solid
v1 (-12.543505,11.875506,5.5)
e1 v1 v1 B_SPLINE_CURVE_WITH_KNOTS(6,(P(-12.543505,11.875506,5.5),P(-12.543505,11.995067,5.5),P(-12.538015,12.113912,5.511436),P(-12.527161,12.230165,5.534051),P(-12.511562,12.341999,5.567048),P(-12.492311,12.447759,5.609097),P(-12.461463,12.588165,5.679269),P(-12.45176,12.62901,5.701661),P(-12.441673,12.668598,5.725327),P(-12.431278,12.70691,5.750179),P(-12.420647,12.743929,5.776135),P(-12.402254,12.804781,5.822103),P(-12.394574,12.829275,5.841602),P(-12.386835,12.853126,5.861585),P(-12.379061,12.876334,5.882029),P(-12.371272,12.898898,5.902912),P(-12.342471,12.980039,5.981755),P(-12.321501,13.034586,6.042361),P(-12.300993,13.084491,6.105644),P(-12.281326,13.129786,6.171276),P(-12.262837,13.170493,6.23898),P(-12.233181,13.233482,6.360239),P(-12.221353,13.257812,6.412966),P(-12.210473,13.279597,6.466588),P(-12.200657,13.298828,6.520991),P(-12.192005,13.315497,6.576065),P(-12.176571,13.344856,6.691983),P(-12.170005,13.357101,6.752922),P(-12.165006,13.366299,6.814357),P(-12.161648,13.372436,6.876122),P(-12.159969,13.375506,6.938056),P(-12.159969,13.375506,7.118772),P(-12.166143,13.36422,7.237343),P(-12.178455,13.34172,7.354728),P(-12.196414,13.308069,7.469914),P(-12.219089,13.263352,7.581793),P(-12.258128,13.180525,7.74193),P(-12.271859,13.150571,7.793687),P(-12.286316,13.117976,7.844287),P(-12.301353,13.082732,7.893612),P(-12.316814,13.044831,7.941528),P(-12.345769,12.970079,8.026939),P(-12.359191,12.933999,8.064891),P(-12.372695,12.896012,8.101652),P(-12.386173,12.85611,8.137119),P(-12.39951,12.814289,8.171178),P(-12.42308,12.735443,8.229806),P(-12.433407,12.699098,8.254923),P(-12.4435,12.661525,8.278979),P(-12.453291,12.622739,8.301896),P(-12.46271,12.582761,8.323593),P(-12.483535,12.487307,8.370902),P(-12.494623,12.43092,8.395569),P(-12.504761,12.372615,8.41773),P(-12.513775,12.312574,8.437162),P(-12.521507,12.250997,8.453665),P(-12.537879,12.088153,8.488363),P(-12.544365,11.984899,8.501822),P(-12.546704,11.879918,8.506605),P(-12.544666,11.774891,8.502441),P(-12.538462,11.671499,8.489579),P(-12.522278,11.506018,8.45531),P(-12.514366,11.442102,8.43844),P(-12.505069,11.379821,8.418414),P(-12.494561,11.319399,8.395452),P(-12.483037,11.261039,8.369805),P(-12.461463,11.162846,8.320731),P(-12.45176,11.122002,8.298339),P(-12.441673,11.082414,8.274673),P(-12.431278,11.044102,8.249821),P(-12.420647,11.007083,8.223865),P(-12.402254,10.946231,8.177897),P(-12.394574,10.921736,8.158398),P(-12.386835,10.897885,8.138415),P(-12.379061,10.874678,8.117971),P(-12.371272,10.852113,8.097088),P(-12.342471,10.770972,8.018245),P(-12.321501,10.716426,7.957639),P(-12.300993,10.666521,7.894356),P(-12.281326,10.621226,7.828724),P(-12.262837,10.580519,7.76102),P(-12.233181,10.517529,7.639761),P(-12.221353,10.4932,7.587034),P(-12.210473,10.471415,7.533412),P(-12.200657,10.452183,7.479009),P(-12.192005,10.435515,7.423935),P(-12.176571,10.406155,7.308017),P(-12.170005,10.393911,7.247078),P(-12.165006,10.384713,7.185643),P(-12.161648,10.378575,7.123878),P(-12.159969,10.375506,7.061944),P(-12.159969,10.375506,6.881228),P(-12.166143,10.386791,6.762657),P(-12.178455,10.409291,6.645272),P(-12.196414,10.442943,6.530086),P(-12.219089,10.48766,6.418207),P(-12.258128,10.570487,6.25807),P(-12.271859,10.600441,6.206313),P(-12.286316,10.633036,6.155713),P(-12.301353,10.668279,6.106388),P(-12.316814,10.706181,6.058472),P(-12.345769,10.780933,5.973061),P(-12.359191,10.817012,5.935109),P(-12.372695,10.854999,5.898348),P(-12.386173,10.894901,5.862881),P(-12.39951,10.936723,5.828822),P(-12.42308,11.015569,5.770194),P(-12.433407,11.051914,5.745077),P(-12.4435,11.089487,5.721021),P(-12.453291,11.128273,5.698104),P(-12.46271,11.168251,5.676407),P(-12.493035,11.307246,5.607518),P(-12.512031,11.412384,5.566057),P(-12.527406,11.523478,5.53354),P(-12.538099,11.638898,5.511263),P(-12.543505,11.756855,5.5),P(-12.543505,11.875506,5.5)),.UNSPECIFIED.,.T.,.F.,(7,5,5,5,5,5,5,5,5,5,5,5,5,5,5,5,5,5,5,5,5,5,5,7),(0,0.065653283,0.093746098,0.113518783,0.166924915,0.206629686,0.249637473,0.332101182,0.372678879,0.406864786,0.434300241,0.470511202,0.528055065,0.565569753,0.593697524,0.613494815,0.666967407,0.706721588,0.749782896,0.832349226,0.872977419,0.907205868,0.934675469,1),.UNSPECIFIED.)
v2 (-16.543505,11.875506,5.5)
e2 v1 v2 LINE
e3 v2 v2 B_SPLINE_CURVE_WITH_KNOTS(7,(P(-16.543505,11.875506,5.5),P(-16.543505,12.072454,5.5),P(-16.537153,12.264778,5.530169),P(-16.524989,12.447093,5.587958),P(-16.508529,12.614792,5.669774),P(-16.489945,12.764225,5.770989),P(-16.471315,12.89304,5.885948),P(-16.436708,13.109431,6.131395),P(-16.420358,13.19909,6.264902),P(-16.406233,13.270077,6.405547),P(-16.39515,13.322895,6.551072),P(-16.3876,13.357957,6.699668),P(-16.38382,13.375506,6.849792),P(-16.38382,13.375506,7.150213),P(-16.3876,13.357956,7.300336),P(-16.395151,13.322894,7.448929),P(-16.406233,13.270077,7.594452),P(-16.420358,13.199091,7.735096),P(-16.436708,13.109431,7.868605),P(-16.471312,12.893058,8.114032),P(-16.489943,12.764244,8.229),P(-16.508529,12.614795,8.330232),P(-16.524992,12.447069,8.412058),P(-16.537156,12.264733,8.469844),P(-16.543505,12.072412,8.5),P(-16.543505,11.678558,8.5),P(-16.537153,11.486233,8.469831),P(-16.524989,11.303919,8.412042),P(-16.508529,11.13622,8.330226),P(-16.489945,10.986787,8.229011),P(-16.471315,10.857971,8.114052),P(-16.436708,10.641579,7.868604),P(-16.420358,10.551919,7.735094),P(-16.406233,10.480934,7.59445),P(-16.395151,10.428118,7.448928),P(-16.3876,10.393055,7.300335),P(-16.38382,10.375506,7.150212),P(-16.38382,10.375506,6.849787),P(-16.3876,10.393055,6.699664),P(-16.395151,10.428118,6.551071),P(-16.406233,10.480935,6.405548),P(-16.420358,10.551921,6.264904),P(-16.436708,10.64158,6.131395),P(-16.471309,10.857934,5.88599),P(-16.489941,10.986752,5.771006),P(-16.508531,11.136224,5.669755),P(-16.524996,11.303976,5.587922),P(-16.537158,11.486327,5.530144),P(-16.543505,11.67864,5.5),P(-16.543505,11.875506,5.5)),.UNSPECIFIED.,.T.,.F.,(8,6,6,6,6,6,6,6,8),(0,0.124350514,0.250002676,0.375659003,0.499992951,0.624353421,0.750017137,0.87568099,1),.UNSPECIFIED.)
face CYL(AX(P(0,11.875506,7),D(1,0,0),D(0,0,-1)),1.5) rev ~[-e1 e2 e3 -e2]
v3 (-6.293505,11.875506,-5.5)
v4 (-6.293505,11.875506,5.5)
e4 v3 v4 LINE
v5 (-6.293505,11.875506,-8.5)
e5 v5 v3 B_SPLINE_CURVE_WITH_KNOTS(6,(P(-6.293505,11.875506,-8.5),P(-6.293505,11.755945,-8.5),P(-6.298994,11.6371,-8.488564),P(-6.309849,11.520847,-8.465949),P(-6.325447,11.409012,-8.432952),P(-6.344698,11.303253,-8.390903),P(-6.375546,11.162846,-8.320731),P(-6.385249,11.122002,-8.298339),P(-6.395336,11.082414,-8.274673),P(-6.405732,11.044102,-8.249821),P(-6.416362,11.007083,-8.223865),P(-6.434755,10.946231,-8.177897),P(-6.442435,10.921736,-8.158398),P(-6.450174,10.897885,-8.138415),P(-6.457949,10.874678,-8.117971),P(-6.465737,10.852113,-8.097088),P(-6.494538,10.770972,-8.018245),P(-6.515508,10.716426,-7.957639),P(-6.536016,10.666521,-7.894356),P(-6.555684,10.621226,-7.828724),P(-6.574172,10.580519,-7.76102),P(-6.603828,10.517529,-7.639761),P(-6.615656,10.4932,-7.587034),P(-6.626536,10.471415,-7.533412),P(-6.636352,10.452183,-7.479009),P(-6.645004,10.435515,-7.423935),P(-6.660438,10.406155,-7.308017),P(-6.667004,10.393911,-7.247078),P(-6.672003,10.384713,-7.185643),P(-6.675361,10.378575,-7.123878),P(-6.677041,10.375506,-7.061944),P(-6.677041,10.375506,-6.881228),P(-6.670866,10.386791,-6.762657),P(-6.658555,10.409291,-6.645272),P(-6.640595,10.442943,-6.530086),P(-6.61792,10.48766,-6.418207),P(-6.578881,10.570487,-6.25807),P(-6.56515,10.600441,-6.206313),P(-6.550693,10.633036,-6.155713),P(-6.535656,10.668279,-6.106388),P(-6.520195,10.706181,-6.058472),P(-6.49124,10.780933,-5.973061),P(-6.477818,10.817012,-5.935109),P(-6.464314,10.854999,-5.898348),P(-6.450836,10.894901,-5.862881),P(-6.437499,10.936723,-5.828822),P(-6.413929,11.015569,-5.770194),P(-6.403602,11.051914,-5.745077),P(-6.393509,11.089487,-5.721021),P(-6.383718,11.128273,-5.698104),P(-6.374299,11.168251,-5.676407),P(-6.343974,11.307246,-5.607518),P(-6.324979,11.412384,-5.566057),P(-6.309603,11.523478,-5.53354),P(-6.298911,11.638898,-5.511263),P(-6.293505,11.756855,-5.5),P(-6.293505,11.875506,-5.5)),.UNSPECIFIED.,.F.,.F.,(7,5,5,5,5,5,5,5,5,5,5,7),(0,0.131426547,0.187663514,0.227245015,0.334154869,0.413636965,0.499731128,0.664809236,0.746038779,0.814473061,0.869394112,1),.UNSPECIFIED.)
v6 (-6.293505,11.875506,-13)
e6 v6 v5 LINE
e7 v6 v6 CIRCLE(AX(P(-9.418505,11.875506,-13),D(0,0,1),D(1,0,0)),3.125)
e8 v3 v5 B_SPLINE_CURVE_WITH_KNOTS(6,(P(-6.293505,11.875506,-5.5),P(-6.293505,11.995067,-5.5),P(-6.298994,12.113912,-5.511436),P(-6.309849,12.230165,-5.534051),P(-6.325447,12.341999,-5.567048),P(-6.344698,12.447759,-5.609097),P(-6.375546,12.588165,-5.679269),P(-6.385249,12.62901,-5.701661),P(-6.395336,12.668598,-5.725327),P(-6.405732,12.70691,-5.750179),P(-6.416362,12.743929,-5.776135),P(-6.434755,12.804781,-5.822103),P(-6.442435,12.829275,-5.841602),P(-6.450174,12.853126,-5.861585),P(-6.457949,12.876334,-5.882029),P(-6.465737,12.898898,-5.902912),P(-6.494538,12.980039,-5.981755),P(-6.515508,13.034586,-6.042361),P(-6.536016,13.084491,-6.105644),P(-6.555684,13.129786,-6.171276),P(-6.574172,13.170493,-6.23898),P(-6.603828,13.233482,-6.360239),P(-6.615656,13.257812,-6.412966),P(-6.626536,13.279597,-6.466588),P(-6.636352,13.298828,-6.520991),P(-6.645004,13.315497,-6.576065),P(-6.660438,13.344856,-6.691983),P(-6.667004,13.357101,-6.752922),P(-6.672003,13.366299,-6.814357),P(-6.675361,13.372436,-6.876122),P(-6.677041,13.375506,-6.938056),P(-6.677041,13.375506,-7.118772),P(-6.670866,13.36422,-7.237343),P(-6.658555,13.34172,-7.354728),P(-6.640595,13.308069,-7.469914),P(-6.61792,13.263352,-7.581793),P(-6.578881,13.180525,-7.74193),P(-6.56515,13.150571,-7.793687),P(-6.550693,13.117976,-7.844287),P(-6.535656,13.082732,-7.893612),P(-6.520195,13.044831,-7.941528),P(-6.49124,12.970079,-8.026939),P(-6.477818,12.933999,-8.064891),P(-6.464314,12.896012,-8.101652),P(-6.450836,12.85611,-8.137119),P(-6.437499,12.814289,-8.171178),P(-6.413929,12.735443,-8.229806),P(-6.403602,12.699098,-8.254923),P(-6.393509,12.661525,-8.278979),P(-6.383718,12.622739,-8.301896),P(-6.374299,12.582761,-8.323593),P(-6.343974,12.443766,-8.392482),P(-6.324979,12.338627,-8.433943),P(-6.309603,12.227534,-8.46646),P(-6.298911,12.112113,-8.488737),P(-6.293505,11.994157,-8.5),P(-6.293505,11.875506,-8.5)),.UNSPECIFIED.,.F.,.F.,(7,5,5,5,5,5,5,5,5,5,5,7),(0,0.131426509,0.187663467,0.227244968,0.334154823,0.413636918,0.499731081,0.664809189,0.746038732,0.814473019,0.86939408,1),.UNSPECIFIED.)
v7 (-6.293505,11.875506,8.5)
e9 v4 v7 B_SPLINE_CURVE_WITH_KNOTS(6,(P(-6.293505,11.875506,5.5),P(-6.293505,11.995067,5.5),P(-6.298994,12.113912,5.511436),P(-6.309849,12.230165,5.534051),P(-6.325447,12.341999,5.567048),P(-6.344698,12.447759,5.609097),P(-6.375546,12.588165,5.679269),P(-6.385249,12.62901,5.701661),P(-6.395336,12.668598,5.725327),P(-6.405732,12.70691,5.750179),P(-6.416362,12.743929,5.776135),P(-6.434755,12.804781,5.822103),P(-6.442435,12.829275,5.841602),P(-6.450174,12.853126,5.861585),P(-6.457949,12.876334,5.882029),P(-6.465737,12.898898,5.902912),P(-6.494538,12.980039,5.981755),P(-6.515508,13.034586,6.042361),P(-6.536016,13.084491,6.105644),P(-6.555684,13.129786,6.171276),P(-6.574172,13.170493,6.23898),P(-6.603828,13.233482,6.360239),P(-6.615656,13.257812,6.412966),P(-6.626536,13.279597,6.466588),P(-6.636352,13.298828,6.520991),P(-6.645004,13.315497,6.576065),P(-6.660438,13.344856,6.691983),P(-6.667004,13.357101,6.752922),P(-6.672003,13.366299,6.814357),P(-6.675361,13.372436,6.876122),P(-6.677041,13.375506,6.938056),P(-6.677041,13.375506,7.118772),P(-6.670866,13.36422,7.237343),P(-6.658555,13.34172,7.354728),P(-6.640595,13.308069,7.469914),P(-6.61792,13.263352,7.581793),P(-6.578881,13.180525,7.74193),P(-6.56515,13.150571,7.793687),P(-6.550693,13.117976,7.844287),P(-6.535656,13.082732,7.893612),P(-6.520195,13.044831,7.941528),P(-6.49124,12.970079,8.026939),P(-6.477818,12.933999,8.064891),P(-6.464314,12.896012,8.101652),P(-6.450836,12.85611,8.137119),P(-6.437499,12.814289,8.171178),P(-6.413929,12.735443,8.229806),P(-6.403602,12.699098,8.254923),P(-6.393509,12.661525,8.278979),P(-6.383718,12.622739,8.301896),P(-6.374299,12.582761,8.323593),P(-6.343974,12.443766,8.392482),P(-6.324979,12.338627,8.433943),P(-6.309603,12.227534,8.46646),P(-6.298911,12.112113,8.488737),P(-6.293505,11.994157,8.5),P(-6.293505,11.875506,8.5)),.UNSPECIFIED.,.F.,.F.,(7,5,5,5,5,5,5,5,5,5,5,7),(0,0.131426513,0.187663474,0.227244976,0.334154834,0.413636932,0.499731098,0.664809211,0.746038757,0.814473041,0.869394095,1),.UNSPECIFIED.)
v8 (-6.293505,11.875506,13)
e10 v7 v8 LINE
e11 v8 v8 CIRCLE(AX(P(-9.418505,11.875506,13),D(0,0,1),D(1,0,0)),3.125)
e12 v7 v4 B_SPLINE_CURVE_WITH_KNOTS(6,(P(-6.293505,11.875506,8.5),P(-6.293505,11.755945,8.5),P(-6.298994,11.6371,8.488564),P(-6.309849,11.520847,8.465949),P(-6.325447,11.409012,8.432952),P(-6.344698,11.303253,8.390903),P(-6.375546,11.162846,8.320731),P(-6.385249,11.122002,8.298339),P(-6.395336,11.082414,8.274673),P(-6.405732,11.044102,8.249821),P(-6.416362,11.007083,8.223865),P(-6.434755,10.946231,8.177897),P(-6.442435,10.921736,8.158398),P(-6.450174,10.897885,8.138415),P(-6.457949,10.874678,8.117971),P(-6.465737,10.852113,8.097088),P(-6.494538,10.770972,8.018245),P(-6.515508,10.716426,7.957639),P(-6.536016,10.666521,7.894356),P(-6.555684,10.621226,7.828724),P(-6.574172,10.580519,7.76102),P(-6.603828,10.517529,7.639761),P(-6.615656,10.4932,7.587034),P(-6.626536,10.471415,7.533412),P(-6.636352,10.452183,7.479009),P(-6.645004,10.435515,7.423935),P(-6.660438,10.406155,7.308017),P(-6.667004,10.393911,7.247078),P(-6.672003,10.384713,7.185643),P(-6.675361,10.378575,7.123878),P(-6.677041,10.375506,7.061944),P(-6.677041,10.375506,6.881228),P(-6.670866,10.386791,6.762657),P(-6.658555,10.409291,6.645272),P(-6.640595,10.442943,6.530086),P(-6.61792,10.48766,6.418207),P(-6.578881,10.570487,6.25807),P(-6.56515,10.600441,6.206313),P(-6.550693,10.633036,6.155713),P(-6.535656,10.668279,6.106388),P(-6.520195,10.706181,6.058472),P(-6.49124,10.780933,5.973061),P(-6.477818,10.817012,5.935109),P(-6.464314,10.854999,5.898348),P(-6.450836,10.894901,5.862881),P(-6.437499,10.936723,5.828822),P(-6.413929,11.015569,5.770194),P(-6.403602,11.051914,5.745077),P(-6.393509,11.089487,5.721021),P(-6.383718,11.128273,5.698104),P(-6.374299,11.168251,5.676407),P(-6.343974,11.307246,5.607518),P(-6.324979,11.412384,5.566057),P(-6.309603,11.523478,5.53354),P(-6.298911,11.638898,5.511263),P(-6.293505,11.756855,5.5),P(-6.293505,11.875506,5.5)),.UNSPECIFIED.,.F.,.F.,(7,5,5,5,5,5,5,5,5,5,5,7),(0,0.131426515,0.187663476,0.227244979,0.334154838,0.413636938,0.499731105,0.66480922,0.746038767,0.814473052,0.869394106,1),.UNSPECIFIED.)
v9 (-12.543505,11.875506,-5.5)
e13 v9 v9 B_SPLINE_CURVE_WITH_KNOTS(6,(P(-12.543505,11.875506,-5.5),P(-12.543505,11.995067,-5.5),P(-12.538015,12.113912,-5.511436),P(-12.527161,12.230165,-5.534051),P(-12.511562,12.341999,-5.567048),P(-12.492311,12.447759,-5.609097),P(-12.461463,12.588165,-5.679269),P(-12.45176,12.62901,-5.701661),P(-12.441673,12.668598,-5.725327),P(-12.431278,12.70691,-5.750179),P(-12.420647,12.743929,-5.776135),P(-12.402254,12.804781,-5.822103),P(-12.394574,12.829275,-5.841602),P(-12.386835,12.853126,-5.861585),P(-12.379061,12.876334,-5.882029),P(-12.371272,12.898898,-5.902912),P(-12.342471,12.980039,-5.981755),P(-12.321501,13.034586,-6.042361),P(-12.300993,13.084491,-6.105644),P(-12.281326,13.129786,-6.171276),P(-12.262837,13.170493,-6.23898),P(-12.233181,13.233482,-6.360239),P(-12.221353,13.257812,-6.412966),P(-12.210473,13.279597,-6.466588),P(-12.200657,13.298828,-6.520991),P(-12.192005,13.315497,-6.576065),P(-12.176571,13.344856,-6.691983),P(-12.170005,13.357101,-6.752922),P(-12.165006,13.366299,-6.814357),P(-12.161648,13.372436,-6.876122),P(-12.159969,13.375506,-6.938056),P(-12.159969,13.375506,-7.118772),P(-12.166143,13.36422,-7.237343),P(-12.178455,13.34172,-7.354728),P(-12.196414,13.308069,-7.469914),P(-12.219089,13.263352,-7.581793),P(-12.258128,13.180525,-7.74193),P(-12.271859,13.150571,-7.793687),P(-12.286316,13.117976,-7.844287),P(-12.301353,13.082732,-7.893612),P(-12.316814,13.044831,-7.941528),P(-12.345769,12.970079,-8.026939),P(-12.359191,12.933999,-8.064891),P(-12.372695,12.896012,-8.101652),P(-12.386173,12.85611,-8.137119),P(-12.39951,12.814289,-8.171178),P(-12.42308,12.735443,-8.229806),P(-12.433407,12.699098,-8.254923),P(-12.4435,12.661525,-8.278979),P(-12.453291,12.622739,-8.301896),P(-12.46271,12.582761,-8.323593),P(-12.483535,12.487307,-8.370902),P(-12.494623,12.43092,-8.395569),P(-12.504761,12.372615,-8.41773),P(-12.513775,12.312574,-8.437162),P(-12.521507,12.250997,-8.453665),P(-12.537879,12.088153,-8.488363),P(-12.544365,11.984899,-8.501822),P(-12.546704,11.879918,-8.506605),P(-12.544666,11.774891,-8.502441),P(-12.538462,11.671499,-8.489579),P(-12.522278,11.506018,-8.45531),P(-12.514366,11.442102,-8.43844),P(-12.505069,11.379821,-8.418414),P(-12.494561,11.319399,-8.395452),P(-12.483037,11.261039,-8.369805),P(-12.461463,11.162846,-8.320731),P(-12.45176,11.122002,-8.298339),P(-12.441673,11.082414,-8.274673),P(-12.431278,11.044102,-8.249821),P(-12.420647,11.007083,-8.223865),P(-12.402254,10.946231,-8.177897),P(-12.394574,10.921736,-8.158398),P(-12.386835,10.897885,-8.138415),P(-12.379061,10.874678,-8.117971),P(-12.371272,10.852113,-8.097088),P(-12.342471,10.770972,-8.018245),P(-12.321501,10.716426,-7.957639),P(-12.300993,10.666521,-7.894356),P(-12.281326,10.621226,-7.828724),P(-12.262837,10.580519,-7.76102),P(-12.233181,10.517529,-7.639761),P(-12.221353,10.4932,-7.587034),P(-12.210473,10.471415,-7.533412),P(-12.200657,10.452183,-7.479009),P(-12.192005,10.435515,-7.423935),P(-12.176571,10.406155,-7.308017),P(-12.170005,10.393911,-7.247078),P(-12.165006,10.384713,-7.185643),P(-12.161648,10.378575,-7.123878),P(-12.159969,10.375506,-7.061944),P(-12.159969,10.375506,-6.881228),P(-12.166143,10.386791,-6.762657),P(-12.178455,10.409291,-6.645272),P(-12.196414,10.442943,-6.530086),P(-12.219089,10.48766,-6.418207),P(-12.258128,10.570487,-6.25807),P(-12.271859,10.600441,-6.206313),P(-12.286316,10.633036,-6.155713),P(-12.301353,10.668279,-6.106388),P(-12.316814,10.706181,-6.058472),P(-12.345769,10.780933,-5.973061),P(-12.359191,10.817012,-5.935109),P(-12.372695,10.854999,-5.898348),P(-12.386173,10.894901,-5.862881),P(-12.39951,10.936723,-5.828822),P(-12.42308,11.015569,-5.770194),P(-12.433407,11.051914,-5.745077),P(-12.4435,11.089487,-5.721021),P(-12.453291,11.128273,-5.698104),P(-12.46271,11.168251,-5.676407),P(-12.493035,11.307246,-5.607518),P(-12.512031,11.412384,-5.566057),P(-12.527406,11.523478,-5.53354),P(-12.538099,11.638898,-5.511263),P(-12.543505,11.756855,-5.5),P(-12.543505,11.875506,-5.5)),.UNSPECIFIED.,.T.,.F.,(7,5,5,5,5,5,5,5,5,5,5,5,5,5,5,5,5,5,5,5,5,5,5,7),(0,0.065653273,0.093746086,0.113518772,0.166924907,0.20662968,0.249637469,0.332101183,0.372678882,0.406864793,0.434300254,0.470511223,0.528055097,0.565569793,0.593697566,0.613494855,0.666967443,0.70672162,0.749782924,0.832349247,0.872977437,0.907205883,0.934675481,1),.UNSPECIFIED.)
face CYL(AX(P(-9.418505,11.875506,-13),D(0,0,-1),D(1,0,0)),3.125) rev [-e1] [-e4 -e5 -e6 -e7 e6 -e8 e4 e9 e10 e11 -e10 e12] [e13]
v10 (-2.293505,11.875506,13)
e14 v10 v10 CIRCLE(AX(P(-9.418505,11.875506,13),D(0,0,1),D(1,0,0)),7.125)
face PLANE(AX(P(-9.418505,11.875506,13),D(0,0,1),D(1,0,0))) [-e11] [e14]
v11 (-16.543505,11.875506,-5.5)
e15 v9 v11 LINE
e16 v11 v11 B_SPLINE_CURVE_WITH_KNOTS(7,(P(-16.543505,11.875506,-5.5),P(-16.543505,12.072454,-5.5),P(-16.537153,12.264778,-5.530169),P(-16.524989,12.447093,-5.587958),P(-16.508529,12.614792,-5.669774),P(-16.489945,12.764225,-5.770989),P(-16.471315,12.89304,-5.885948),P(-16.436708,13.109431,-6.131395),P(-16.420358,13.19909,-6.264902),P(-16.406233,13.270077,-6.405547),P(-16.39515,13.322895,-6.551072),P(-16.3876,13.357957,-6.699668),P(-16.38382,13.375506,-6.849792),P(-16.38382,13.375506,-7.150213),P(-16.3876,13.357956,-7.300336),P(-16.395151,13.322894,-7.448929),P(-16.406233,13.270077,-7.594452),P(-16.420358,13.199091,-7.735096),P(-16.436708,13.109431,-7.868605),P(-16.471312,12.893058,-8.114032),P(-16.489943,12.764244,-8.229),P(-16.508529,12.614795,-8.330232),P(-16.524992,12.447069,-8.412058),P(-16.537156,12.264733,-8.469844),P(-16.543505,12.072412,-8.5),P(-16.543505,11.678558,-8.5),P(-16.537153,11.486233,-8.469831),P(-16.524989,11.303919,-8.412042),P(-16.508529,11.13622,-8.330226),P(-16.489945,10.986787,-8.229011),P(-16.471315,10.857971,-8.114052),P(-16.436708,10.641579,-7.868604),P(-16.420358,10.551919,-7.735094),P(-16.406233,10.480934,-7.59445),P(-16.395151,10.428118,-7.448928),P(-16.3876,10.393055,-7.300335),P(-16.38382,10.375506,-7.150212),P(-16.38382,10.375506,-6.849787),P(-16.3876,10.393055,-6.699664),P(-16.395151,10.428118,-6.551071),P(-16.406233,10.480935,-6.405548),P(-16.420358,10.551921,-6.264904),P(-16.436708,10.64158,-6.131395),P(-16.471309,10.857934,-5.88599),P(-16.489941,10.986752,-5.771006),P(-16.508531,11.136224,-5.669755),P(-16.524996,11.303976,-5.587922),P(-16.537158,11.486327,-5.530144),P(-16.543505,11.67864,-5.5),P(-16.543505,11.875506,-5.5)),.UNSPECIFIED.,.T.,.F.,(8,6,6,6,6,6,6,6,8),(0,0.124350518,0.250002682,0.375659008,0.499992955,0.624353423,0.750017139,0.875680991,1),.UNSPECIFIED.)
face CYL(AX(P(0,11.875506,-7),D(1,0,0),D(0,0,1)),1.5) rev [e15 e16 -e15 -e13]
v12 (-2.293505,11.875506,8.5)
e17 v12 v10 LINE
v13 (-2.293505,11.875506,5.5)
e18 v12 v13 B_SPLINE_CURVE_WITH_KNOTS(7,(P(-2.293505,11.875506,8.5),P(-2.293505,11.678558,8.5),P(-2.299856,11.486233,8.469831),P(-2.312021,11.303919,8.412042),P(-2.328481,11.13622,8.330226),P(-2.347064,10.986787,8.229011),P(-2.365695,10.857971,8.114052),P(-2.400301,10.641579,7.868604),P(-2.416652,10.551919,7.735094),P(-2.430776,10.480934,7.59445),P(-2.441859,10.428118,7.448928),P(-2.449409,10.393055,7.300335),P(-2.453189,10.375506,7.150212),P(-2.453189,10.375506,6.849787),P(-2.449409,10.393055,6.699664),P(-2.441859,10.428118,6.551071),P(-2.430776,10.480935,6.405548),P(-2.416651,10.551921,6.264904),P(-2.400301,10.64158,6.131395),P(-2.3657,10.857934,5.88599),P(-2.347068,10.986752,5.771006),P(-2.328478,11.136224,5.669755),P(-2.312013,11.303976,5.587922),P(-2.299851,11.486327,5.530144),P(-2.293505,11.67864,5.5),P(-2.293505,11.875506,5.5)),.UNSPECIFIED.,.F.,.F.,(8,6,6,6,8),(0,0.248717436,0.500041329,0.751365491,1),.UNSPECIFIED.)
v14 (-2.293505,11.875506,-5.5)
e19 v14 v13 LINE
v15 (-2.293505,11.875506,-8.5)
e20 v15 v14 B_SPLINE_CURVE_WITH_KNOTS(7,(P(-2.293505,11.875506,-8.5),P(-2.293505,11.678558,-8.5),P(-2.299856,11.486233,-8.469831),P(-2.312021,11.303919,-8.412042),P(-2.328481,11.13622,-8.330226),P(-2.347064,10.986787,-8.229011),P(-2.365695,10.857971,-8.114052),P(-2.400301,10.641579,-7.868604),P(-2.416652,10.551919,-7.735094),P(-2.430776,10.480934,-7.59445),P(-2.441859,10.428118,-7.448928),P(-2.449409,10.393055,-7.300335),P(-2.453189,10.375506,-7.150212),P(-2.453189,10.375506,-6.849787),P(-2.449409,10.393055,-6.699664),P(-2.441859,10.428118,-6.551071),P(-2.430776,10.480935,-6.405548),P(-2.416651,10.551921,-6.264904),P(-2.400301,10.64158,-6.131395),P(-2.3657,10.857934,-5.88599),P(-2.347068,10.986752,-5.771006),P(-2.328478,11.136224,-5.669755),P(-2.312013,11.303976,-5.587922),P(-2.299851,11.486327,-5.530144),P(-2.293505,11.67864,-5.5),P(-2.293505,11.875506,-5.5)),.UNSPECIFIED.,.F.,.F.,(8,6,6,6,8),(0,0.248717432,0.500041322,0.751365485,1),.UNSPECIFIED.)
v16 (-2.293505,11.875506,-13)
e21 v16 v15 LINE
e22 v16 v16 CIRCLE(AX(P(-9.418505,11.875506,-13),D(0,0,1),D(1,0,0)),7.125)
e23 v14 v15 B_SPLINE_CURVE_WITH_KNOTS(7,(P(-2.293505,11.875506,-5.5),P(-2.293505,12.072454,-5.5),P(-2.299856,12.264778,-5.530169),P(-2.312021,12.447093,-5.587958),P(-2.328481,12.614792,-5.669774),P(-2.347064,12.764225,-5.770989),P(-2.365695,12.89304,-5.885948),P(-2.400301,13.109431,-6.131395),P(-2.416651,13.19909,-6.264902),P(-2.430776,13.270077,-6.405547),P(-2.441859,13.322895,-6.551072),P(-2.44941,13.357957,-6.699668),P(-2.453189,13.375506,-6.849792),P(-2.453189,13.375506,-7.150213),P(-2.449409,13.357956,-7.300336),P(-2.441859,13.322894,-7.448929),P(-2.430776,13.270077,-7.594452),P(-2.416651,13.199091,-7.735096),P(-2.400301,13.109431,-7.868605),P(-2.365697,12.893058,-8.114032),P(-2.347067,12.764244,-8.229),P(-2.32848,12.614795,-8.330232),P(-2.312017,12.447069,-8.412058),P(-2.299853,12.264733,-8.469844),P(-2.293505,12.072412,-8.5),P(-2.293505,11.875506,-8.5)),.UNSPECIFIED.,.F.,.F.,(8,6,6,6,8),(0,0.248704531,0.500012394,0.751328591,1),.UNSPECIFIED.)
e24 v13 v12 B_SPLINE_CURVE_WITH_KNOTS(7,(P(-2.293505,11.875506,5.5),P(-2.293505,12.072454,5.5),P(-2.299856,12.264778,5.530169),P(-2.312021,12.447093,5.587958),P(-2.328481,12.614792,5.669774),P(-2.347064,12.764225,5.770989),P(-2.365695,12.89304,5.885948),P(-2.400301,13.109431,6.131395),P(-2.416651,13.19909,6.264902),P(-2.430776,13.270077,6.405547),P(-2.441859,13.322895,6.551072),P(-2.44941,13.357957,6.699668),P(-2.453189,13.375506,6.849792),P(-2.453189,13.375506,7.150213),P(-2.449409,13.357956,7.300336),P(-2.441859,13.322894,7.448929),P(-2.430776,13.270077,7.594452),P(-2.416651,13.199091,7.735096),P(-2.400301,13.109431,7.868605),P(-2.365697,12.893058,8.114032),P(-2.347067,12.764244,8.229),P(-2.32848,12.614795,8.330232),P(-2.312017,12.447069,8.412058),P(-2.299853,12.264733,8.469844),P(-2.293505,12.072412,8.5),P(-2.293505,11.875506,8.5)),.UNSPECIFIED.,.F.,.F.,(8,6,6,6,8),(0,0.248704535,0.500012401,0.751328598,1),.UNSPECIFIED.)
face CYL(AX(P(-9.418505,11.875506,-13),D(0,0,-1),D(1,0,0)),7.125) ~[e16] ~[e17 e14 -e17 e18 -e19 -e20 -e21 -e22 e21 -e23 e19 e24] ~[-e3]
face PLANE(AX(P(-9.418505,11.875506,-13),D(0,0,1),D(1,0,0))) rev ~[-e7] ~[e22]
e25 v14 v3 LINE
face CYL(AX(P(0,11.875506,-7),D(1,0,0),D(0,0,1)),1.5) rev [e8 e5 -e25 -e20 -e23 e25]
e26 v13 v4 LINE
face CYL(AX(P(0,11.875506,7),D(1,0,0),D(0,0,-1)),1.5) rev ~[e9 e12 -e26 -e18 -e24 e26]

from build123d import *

# Parameters (mm, degrees)
BOSS_EXTRUDE1_DEPTH      = 13
BOSS_EXTRUDE1_DEPTH_BACK = 13
SKETCH1_R                = 7.125
SKETCH1_R_2              = 3.125
SKETCH2_R                = 1.5
CUT_EXTRUDE1_DEPTH       = 20


with BuildPart() as part:
    # Sketch1 → Boss-Extrude1 (new, two sides: drawn at the far end of the back side and taken through both)
    with BuildSketch(Plane.XY.offset(-BOSS_EXTRUDE1_DEPTH_BACK)):
        with Locations((-9.418504592, 11.87550579)):
            Circle(SKETCH1_R)
        with Locations((-9.418504592, 11.87550579)):
            Circle(SKETCH1_R_2, mode=Mode.SUBTRACT)
    extrude(amount=BOSS_EXTRUDE1_DEPTH + BOSS_EXTRUDE1_DEPTH_BACK)

    # Sketch2 → Cut-Extrude1 (cut)
    with BuildSketch(Plane(origin=(0, 0, 0), x_dir=(0, 0, -1), z_dir=(1, 0, 0))):
        with Locations((-7, 11.87550579)):
            Circle(SKETCH2_R)
    cut_extrude1 = extrude(amount=-CUT_EXTRUDE1_DEPTH, mode=Mode.SUBTRACT)

    # Mirror1: Cut-Extrude1 across plane
    add(cut_extrude1.mirror(Plane.XY), mode=Mode.SUBTRACT)


solid = part.part
